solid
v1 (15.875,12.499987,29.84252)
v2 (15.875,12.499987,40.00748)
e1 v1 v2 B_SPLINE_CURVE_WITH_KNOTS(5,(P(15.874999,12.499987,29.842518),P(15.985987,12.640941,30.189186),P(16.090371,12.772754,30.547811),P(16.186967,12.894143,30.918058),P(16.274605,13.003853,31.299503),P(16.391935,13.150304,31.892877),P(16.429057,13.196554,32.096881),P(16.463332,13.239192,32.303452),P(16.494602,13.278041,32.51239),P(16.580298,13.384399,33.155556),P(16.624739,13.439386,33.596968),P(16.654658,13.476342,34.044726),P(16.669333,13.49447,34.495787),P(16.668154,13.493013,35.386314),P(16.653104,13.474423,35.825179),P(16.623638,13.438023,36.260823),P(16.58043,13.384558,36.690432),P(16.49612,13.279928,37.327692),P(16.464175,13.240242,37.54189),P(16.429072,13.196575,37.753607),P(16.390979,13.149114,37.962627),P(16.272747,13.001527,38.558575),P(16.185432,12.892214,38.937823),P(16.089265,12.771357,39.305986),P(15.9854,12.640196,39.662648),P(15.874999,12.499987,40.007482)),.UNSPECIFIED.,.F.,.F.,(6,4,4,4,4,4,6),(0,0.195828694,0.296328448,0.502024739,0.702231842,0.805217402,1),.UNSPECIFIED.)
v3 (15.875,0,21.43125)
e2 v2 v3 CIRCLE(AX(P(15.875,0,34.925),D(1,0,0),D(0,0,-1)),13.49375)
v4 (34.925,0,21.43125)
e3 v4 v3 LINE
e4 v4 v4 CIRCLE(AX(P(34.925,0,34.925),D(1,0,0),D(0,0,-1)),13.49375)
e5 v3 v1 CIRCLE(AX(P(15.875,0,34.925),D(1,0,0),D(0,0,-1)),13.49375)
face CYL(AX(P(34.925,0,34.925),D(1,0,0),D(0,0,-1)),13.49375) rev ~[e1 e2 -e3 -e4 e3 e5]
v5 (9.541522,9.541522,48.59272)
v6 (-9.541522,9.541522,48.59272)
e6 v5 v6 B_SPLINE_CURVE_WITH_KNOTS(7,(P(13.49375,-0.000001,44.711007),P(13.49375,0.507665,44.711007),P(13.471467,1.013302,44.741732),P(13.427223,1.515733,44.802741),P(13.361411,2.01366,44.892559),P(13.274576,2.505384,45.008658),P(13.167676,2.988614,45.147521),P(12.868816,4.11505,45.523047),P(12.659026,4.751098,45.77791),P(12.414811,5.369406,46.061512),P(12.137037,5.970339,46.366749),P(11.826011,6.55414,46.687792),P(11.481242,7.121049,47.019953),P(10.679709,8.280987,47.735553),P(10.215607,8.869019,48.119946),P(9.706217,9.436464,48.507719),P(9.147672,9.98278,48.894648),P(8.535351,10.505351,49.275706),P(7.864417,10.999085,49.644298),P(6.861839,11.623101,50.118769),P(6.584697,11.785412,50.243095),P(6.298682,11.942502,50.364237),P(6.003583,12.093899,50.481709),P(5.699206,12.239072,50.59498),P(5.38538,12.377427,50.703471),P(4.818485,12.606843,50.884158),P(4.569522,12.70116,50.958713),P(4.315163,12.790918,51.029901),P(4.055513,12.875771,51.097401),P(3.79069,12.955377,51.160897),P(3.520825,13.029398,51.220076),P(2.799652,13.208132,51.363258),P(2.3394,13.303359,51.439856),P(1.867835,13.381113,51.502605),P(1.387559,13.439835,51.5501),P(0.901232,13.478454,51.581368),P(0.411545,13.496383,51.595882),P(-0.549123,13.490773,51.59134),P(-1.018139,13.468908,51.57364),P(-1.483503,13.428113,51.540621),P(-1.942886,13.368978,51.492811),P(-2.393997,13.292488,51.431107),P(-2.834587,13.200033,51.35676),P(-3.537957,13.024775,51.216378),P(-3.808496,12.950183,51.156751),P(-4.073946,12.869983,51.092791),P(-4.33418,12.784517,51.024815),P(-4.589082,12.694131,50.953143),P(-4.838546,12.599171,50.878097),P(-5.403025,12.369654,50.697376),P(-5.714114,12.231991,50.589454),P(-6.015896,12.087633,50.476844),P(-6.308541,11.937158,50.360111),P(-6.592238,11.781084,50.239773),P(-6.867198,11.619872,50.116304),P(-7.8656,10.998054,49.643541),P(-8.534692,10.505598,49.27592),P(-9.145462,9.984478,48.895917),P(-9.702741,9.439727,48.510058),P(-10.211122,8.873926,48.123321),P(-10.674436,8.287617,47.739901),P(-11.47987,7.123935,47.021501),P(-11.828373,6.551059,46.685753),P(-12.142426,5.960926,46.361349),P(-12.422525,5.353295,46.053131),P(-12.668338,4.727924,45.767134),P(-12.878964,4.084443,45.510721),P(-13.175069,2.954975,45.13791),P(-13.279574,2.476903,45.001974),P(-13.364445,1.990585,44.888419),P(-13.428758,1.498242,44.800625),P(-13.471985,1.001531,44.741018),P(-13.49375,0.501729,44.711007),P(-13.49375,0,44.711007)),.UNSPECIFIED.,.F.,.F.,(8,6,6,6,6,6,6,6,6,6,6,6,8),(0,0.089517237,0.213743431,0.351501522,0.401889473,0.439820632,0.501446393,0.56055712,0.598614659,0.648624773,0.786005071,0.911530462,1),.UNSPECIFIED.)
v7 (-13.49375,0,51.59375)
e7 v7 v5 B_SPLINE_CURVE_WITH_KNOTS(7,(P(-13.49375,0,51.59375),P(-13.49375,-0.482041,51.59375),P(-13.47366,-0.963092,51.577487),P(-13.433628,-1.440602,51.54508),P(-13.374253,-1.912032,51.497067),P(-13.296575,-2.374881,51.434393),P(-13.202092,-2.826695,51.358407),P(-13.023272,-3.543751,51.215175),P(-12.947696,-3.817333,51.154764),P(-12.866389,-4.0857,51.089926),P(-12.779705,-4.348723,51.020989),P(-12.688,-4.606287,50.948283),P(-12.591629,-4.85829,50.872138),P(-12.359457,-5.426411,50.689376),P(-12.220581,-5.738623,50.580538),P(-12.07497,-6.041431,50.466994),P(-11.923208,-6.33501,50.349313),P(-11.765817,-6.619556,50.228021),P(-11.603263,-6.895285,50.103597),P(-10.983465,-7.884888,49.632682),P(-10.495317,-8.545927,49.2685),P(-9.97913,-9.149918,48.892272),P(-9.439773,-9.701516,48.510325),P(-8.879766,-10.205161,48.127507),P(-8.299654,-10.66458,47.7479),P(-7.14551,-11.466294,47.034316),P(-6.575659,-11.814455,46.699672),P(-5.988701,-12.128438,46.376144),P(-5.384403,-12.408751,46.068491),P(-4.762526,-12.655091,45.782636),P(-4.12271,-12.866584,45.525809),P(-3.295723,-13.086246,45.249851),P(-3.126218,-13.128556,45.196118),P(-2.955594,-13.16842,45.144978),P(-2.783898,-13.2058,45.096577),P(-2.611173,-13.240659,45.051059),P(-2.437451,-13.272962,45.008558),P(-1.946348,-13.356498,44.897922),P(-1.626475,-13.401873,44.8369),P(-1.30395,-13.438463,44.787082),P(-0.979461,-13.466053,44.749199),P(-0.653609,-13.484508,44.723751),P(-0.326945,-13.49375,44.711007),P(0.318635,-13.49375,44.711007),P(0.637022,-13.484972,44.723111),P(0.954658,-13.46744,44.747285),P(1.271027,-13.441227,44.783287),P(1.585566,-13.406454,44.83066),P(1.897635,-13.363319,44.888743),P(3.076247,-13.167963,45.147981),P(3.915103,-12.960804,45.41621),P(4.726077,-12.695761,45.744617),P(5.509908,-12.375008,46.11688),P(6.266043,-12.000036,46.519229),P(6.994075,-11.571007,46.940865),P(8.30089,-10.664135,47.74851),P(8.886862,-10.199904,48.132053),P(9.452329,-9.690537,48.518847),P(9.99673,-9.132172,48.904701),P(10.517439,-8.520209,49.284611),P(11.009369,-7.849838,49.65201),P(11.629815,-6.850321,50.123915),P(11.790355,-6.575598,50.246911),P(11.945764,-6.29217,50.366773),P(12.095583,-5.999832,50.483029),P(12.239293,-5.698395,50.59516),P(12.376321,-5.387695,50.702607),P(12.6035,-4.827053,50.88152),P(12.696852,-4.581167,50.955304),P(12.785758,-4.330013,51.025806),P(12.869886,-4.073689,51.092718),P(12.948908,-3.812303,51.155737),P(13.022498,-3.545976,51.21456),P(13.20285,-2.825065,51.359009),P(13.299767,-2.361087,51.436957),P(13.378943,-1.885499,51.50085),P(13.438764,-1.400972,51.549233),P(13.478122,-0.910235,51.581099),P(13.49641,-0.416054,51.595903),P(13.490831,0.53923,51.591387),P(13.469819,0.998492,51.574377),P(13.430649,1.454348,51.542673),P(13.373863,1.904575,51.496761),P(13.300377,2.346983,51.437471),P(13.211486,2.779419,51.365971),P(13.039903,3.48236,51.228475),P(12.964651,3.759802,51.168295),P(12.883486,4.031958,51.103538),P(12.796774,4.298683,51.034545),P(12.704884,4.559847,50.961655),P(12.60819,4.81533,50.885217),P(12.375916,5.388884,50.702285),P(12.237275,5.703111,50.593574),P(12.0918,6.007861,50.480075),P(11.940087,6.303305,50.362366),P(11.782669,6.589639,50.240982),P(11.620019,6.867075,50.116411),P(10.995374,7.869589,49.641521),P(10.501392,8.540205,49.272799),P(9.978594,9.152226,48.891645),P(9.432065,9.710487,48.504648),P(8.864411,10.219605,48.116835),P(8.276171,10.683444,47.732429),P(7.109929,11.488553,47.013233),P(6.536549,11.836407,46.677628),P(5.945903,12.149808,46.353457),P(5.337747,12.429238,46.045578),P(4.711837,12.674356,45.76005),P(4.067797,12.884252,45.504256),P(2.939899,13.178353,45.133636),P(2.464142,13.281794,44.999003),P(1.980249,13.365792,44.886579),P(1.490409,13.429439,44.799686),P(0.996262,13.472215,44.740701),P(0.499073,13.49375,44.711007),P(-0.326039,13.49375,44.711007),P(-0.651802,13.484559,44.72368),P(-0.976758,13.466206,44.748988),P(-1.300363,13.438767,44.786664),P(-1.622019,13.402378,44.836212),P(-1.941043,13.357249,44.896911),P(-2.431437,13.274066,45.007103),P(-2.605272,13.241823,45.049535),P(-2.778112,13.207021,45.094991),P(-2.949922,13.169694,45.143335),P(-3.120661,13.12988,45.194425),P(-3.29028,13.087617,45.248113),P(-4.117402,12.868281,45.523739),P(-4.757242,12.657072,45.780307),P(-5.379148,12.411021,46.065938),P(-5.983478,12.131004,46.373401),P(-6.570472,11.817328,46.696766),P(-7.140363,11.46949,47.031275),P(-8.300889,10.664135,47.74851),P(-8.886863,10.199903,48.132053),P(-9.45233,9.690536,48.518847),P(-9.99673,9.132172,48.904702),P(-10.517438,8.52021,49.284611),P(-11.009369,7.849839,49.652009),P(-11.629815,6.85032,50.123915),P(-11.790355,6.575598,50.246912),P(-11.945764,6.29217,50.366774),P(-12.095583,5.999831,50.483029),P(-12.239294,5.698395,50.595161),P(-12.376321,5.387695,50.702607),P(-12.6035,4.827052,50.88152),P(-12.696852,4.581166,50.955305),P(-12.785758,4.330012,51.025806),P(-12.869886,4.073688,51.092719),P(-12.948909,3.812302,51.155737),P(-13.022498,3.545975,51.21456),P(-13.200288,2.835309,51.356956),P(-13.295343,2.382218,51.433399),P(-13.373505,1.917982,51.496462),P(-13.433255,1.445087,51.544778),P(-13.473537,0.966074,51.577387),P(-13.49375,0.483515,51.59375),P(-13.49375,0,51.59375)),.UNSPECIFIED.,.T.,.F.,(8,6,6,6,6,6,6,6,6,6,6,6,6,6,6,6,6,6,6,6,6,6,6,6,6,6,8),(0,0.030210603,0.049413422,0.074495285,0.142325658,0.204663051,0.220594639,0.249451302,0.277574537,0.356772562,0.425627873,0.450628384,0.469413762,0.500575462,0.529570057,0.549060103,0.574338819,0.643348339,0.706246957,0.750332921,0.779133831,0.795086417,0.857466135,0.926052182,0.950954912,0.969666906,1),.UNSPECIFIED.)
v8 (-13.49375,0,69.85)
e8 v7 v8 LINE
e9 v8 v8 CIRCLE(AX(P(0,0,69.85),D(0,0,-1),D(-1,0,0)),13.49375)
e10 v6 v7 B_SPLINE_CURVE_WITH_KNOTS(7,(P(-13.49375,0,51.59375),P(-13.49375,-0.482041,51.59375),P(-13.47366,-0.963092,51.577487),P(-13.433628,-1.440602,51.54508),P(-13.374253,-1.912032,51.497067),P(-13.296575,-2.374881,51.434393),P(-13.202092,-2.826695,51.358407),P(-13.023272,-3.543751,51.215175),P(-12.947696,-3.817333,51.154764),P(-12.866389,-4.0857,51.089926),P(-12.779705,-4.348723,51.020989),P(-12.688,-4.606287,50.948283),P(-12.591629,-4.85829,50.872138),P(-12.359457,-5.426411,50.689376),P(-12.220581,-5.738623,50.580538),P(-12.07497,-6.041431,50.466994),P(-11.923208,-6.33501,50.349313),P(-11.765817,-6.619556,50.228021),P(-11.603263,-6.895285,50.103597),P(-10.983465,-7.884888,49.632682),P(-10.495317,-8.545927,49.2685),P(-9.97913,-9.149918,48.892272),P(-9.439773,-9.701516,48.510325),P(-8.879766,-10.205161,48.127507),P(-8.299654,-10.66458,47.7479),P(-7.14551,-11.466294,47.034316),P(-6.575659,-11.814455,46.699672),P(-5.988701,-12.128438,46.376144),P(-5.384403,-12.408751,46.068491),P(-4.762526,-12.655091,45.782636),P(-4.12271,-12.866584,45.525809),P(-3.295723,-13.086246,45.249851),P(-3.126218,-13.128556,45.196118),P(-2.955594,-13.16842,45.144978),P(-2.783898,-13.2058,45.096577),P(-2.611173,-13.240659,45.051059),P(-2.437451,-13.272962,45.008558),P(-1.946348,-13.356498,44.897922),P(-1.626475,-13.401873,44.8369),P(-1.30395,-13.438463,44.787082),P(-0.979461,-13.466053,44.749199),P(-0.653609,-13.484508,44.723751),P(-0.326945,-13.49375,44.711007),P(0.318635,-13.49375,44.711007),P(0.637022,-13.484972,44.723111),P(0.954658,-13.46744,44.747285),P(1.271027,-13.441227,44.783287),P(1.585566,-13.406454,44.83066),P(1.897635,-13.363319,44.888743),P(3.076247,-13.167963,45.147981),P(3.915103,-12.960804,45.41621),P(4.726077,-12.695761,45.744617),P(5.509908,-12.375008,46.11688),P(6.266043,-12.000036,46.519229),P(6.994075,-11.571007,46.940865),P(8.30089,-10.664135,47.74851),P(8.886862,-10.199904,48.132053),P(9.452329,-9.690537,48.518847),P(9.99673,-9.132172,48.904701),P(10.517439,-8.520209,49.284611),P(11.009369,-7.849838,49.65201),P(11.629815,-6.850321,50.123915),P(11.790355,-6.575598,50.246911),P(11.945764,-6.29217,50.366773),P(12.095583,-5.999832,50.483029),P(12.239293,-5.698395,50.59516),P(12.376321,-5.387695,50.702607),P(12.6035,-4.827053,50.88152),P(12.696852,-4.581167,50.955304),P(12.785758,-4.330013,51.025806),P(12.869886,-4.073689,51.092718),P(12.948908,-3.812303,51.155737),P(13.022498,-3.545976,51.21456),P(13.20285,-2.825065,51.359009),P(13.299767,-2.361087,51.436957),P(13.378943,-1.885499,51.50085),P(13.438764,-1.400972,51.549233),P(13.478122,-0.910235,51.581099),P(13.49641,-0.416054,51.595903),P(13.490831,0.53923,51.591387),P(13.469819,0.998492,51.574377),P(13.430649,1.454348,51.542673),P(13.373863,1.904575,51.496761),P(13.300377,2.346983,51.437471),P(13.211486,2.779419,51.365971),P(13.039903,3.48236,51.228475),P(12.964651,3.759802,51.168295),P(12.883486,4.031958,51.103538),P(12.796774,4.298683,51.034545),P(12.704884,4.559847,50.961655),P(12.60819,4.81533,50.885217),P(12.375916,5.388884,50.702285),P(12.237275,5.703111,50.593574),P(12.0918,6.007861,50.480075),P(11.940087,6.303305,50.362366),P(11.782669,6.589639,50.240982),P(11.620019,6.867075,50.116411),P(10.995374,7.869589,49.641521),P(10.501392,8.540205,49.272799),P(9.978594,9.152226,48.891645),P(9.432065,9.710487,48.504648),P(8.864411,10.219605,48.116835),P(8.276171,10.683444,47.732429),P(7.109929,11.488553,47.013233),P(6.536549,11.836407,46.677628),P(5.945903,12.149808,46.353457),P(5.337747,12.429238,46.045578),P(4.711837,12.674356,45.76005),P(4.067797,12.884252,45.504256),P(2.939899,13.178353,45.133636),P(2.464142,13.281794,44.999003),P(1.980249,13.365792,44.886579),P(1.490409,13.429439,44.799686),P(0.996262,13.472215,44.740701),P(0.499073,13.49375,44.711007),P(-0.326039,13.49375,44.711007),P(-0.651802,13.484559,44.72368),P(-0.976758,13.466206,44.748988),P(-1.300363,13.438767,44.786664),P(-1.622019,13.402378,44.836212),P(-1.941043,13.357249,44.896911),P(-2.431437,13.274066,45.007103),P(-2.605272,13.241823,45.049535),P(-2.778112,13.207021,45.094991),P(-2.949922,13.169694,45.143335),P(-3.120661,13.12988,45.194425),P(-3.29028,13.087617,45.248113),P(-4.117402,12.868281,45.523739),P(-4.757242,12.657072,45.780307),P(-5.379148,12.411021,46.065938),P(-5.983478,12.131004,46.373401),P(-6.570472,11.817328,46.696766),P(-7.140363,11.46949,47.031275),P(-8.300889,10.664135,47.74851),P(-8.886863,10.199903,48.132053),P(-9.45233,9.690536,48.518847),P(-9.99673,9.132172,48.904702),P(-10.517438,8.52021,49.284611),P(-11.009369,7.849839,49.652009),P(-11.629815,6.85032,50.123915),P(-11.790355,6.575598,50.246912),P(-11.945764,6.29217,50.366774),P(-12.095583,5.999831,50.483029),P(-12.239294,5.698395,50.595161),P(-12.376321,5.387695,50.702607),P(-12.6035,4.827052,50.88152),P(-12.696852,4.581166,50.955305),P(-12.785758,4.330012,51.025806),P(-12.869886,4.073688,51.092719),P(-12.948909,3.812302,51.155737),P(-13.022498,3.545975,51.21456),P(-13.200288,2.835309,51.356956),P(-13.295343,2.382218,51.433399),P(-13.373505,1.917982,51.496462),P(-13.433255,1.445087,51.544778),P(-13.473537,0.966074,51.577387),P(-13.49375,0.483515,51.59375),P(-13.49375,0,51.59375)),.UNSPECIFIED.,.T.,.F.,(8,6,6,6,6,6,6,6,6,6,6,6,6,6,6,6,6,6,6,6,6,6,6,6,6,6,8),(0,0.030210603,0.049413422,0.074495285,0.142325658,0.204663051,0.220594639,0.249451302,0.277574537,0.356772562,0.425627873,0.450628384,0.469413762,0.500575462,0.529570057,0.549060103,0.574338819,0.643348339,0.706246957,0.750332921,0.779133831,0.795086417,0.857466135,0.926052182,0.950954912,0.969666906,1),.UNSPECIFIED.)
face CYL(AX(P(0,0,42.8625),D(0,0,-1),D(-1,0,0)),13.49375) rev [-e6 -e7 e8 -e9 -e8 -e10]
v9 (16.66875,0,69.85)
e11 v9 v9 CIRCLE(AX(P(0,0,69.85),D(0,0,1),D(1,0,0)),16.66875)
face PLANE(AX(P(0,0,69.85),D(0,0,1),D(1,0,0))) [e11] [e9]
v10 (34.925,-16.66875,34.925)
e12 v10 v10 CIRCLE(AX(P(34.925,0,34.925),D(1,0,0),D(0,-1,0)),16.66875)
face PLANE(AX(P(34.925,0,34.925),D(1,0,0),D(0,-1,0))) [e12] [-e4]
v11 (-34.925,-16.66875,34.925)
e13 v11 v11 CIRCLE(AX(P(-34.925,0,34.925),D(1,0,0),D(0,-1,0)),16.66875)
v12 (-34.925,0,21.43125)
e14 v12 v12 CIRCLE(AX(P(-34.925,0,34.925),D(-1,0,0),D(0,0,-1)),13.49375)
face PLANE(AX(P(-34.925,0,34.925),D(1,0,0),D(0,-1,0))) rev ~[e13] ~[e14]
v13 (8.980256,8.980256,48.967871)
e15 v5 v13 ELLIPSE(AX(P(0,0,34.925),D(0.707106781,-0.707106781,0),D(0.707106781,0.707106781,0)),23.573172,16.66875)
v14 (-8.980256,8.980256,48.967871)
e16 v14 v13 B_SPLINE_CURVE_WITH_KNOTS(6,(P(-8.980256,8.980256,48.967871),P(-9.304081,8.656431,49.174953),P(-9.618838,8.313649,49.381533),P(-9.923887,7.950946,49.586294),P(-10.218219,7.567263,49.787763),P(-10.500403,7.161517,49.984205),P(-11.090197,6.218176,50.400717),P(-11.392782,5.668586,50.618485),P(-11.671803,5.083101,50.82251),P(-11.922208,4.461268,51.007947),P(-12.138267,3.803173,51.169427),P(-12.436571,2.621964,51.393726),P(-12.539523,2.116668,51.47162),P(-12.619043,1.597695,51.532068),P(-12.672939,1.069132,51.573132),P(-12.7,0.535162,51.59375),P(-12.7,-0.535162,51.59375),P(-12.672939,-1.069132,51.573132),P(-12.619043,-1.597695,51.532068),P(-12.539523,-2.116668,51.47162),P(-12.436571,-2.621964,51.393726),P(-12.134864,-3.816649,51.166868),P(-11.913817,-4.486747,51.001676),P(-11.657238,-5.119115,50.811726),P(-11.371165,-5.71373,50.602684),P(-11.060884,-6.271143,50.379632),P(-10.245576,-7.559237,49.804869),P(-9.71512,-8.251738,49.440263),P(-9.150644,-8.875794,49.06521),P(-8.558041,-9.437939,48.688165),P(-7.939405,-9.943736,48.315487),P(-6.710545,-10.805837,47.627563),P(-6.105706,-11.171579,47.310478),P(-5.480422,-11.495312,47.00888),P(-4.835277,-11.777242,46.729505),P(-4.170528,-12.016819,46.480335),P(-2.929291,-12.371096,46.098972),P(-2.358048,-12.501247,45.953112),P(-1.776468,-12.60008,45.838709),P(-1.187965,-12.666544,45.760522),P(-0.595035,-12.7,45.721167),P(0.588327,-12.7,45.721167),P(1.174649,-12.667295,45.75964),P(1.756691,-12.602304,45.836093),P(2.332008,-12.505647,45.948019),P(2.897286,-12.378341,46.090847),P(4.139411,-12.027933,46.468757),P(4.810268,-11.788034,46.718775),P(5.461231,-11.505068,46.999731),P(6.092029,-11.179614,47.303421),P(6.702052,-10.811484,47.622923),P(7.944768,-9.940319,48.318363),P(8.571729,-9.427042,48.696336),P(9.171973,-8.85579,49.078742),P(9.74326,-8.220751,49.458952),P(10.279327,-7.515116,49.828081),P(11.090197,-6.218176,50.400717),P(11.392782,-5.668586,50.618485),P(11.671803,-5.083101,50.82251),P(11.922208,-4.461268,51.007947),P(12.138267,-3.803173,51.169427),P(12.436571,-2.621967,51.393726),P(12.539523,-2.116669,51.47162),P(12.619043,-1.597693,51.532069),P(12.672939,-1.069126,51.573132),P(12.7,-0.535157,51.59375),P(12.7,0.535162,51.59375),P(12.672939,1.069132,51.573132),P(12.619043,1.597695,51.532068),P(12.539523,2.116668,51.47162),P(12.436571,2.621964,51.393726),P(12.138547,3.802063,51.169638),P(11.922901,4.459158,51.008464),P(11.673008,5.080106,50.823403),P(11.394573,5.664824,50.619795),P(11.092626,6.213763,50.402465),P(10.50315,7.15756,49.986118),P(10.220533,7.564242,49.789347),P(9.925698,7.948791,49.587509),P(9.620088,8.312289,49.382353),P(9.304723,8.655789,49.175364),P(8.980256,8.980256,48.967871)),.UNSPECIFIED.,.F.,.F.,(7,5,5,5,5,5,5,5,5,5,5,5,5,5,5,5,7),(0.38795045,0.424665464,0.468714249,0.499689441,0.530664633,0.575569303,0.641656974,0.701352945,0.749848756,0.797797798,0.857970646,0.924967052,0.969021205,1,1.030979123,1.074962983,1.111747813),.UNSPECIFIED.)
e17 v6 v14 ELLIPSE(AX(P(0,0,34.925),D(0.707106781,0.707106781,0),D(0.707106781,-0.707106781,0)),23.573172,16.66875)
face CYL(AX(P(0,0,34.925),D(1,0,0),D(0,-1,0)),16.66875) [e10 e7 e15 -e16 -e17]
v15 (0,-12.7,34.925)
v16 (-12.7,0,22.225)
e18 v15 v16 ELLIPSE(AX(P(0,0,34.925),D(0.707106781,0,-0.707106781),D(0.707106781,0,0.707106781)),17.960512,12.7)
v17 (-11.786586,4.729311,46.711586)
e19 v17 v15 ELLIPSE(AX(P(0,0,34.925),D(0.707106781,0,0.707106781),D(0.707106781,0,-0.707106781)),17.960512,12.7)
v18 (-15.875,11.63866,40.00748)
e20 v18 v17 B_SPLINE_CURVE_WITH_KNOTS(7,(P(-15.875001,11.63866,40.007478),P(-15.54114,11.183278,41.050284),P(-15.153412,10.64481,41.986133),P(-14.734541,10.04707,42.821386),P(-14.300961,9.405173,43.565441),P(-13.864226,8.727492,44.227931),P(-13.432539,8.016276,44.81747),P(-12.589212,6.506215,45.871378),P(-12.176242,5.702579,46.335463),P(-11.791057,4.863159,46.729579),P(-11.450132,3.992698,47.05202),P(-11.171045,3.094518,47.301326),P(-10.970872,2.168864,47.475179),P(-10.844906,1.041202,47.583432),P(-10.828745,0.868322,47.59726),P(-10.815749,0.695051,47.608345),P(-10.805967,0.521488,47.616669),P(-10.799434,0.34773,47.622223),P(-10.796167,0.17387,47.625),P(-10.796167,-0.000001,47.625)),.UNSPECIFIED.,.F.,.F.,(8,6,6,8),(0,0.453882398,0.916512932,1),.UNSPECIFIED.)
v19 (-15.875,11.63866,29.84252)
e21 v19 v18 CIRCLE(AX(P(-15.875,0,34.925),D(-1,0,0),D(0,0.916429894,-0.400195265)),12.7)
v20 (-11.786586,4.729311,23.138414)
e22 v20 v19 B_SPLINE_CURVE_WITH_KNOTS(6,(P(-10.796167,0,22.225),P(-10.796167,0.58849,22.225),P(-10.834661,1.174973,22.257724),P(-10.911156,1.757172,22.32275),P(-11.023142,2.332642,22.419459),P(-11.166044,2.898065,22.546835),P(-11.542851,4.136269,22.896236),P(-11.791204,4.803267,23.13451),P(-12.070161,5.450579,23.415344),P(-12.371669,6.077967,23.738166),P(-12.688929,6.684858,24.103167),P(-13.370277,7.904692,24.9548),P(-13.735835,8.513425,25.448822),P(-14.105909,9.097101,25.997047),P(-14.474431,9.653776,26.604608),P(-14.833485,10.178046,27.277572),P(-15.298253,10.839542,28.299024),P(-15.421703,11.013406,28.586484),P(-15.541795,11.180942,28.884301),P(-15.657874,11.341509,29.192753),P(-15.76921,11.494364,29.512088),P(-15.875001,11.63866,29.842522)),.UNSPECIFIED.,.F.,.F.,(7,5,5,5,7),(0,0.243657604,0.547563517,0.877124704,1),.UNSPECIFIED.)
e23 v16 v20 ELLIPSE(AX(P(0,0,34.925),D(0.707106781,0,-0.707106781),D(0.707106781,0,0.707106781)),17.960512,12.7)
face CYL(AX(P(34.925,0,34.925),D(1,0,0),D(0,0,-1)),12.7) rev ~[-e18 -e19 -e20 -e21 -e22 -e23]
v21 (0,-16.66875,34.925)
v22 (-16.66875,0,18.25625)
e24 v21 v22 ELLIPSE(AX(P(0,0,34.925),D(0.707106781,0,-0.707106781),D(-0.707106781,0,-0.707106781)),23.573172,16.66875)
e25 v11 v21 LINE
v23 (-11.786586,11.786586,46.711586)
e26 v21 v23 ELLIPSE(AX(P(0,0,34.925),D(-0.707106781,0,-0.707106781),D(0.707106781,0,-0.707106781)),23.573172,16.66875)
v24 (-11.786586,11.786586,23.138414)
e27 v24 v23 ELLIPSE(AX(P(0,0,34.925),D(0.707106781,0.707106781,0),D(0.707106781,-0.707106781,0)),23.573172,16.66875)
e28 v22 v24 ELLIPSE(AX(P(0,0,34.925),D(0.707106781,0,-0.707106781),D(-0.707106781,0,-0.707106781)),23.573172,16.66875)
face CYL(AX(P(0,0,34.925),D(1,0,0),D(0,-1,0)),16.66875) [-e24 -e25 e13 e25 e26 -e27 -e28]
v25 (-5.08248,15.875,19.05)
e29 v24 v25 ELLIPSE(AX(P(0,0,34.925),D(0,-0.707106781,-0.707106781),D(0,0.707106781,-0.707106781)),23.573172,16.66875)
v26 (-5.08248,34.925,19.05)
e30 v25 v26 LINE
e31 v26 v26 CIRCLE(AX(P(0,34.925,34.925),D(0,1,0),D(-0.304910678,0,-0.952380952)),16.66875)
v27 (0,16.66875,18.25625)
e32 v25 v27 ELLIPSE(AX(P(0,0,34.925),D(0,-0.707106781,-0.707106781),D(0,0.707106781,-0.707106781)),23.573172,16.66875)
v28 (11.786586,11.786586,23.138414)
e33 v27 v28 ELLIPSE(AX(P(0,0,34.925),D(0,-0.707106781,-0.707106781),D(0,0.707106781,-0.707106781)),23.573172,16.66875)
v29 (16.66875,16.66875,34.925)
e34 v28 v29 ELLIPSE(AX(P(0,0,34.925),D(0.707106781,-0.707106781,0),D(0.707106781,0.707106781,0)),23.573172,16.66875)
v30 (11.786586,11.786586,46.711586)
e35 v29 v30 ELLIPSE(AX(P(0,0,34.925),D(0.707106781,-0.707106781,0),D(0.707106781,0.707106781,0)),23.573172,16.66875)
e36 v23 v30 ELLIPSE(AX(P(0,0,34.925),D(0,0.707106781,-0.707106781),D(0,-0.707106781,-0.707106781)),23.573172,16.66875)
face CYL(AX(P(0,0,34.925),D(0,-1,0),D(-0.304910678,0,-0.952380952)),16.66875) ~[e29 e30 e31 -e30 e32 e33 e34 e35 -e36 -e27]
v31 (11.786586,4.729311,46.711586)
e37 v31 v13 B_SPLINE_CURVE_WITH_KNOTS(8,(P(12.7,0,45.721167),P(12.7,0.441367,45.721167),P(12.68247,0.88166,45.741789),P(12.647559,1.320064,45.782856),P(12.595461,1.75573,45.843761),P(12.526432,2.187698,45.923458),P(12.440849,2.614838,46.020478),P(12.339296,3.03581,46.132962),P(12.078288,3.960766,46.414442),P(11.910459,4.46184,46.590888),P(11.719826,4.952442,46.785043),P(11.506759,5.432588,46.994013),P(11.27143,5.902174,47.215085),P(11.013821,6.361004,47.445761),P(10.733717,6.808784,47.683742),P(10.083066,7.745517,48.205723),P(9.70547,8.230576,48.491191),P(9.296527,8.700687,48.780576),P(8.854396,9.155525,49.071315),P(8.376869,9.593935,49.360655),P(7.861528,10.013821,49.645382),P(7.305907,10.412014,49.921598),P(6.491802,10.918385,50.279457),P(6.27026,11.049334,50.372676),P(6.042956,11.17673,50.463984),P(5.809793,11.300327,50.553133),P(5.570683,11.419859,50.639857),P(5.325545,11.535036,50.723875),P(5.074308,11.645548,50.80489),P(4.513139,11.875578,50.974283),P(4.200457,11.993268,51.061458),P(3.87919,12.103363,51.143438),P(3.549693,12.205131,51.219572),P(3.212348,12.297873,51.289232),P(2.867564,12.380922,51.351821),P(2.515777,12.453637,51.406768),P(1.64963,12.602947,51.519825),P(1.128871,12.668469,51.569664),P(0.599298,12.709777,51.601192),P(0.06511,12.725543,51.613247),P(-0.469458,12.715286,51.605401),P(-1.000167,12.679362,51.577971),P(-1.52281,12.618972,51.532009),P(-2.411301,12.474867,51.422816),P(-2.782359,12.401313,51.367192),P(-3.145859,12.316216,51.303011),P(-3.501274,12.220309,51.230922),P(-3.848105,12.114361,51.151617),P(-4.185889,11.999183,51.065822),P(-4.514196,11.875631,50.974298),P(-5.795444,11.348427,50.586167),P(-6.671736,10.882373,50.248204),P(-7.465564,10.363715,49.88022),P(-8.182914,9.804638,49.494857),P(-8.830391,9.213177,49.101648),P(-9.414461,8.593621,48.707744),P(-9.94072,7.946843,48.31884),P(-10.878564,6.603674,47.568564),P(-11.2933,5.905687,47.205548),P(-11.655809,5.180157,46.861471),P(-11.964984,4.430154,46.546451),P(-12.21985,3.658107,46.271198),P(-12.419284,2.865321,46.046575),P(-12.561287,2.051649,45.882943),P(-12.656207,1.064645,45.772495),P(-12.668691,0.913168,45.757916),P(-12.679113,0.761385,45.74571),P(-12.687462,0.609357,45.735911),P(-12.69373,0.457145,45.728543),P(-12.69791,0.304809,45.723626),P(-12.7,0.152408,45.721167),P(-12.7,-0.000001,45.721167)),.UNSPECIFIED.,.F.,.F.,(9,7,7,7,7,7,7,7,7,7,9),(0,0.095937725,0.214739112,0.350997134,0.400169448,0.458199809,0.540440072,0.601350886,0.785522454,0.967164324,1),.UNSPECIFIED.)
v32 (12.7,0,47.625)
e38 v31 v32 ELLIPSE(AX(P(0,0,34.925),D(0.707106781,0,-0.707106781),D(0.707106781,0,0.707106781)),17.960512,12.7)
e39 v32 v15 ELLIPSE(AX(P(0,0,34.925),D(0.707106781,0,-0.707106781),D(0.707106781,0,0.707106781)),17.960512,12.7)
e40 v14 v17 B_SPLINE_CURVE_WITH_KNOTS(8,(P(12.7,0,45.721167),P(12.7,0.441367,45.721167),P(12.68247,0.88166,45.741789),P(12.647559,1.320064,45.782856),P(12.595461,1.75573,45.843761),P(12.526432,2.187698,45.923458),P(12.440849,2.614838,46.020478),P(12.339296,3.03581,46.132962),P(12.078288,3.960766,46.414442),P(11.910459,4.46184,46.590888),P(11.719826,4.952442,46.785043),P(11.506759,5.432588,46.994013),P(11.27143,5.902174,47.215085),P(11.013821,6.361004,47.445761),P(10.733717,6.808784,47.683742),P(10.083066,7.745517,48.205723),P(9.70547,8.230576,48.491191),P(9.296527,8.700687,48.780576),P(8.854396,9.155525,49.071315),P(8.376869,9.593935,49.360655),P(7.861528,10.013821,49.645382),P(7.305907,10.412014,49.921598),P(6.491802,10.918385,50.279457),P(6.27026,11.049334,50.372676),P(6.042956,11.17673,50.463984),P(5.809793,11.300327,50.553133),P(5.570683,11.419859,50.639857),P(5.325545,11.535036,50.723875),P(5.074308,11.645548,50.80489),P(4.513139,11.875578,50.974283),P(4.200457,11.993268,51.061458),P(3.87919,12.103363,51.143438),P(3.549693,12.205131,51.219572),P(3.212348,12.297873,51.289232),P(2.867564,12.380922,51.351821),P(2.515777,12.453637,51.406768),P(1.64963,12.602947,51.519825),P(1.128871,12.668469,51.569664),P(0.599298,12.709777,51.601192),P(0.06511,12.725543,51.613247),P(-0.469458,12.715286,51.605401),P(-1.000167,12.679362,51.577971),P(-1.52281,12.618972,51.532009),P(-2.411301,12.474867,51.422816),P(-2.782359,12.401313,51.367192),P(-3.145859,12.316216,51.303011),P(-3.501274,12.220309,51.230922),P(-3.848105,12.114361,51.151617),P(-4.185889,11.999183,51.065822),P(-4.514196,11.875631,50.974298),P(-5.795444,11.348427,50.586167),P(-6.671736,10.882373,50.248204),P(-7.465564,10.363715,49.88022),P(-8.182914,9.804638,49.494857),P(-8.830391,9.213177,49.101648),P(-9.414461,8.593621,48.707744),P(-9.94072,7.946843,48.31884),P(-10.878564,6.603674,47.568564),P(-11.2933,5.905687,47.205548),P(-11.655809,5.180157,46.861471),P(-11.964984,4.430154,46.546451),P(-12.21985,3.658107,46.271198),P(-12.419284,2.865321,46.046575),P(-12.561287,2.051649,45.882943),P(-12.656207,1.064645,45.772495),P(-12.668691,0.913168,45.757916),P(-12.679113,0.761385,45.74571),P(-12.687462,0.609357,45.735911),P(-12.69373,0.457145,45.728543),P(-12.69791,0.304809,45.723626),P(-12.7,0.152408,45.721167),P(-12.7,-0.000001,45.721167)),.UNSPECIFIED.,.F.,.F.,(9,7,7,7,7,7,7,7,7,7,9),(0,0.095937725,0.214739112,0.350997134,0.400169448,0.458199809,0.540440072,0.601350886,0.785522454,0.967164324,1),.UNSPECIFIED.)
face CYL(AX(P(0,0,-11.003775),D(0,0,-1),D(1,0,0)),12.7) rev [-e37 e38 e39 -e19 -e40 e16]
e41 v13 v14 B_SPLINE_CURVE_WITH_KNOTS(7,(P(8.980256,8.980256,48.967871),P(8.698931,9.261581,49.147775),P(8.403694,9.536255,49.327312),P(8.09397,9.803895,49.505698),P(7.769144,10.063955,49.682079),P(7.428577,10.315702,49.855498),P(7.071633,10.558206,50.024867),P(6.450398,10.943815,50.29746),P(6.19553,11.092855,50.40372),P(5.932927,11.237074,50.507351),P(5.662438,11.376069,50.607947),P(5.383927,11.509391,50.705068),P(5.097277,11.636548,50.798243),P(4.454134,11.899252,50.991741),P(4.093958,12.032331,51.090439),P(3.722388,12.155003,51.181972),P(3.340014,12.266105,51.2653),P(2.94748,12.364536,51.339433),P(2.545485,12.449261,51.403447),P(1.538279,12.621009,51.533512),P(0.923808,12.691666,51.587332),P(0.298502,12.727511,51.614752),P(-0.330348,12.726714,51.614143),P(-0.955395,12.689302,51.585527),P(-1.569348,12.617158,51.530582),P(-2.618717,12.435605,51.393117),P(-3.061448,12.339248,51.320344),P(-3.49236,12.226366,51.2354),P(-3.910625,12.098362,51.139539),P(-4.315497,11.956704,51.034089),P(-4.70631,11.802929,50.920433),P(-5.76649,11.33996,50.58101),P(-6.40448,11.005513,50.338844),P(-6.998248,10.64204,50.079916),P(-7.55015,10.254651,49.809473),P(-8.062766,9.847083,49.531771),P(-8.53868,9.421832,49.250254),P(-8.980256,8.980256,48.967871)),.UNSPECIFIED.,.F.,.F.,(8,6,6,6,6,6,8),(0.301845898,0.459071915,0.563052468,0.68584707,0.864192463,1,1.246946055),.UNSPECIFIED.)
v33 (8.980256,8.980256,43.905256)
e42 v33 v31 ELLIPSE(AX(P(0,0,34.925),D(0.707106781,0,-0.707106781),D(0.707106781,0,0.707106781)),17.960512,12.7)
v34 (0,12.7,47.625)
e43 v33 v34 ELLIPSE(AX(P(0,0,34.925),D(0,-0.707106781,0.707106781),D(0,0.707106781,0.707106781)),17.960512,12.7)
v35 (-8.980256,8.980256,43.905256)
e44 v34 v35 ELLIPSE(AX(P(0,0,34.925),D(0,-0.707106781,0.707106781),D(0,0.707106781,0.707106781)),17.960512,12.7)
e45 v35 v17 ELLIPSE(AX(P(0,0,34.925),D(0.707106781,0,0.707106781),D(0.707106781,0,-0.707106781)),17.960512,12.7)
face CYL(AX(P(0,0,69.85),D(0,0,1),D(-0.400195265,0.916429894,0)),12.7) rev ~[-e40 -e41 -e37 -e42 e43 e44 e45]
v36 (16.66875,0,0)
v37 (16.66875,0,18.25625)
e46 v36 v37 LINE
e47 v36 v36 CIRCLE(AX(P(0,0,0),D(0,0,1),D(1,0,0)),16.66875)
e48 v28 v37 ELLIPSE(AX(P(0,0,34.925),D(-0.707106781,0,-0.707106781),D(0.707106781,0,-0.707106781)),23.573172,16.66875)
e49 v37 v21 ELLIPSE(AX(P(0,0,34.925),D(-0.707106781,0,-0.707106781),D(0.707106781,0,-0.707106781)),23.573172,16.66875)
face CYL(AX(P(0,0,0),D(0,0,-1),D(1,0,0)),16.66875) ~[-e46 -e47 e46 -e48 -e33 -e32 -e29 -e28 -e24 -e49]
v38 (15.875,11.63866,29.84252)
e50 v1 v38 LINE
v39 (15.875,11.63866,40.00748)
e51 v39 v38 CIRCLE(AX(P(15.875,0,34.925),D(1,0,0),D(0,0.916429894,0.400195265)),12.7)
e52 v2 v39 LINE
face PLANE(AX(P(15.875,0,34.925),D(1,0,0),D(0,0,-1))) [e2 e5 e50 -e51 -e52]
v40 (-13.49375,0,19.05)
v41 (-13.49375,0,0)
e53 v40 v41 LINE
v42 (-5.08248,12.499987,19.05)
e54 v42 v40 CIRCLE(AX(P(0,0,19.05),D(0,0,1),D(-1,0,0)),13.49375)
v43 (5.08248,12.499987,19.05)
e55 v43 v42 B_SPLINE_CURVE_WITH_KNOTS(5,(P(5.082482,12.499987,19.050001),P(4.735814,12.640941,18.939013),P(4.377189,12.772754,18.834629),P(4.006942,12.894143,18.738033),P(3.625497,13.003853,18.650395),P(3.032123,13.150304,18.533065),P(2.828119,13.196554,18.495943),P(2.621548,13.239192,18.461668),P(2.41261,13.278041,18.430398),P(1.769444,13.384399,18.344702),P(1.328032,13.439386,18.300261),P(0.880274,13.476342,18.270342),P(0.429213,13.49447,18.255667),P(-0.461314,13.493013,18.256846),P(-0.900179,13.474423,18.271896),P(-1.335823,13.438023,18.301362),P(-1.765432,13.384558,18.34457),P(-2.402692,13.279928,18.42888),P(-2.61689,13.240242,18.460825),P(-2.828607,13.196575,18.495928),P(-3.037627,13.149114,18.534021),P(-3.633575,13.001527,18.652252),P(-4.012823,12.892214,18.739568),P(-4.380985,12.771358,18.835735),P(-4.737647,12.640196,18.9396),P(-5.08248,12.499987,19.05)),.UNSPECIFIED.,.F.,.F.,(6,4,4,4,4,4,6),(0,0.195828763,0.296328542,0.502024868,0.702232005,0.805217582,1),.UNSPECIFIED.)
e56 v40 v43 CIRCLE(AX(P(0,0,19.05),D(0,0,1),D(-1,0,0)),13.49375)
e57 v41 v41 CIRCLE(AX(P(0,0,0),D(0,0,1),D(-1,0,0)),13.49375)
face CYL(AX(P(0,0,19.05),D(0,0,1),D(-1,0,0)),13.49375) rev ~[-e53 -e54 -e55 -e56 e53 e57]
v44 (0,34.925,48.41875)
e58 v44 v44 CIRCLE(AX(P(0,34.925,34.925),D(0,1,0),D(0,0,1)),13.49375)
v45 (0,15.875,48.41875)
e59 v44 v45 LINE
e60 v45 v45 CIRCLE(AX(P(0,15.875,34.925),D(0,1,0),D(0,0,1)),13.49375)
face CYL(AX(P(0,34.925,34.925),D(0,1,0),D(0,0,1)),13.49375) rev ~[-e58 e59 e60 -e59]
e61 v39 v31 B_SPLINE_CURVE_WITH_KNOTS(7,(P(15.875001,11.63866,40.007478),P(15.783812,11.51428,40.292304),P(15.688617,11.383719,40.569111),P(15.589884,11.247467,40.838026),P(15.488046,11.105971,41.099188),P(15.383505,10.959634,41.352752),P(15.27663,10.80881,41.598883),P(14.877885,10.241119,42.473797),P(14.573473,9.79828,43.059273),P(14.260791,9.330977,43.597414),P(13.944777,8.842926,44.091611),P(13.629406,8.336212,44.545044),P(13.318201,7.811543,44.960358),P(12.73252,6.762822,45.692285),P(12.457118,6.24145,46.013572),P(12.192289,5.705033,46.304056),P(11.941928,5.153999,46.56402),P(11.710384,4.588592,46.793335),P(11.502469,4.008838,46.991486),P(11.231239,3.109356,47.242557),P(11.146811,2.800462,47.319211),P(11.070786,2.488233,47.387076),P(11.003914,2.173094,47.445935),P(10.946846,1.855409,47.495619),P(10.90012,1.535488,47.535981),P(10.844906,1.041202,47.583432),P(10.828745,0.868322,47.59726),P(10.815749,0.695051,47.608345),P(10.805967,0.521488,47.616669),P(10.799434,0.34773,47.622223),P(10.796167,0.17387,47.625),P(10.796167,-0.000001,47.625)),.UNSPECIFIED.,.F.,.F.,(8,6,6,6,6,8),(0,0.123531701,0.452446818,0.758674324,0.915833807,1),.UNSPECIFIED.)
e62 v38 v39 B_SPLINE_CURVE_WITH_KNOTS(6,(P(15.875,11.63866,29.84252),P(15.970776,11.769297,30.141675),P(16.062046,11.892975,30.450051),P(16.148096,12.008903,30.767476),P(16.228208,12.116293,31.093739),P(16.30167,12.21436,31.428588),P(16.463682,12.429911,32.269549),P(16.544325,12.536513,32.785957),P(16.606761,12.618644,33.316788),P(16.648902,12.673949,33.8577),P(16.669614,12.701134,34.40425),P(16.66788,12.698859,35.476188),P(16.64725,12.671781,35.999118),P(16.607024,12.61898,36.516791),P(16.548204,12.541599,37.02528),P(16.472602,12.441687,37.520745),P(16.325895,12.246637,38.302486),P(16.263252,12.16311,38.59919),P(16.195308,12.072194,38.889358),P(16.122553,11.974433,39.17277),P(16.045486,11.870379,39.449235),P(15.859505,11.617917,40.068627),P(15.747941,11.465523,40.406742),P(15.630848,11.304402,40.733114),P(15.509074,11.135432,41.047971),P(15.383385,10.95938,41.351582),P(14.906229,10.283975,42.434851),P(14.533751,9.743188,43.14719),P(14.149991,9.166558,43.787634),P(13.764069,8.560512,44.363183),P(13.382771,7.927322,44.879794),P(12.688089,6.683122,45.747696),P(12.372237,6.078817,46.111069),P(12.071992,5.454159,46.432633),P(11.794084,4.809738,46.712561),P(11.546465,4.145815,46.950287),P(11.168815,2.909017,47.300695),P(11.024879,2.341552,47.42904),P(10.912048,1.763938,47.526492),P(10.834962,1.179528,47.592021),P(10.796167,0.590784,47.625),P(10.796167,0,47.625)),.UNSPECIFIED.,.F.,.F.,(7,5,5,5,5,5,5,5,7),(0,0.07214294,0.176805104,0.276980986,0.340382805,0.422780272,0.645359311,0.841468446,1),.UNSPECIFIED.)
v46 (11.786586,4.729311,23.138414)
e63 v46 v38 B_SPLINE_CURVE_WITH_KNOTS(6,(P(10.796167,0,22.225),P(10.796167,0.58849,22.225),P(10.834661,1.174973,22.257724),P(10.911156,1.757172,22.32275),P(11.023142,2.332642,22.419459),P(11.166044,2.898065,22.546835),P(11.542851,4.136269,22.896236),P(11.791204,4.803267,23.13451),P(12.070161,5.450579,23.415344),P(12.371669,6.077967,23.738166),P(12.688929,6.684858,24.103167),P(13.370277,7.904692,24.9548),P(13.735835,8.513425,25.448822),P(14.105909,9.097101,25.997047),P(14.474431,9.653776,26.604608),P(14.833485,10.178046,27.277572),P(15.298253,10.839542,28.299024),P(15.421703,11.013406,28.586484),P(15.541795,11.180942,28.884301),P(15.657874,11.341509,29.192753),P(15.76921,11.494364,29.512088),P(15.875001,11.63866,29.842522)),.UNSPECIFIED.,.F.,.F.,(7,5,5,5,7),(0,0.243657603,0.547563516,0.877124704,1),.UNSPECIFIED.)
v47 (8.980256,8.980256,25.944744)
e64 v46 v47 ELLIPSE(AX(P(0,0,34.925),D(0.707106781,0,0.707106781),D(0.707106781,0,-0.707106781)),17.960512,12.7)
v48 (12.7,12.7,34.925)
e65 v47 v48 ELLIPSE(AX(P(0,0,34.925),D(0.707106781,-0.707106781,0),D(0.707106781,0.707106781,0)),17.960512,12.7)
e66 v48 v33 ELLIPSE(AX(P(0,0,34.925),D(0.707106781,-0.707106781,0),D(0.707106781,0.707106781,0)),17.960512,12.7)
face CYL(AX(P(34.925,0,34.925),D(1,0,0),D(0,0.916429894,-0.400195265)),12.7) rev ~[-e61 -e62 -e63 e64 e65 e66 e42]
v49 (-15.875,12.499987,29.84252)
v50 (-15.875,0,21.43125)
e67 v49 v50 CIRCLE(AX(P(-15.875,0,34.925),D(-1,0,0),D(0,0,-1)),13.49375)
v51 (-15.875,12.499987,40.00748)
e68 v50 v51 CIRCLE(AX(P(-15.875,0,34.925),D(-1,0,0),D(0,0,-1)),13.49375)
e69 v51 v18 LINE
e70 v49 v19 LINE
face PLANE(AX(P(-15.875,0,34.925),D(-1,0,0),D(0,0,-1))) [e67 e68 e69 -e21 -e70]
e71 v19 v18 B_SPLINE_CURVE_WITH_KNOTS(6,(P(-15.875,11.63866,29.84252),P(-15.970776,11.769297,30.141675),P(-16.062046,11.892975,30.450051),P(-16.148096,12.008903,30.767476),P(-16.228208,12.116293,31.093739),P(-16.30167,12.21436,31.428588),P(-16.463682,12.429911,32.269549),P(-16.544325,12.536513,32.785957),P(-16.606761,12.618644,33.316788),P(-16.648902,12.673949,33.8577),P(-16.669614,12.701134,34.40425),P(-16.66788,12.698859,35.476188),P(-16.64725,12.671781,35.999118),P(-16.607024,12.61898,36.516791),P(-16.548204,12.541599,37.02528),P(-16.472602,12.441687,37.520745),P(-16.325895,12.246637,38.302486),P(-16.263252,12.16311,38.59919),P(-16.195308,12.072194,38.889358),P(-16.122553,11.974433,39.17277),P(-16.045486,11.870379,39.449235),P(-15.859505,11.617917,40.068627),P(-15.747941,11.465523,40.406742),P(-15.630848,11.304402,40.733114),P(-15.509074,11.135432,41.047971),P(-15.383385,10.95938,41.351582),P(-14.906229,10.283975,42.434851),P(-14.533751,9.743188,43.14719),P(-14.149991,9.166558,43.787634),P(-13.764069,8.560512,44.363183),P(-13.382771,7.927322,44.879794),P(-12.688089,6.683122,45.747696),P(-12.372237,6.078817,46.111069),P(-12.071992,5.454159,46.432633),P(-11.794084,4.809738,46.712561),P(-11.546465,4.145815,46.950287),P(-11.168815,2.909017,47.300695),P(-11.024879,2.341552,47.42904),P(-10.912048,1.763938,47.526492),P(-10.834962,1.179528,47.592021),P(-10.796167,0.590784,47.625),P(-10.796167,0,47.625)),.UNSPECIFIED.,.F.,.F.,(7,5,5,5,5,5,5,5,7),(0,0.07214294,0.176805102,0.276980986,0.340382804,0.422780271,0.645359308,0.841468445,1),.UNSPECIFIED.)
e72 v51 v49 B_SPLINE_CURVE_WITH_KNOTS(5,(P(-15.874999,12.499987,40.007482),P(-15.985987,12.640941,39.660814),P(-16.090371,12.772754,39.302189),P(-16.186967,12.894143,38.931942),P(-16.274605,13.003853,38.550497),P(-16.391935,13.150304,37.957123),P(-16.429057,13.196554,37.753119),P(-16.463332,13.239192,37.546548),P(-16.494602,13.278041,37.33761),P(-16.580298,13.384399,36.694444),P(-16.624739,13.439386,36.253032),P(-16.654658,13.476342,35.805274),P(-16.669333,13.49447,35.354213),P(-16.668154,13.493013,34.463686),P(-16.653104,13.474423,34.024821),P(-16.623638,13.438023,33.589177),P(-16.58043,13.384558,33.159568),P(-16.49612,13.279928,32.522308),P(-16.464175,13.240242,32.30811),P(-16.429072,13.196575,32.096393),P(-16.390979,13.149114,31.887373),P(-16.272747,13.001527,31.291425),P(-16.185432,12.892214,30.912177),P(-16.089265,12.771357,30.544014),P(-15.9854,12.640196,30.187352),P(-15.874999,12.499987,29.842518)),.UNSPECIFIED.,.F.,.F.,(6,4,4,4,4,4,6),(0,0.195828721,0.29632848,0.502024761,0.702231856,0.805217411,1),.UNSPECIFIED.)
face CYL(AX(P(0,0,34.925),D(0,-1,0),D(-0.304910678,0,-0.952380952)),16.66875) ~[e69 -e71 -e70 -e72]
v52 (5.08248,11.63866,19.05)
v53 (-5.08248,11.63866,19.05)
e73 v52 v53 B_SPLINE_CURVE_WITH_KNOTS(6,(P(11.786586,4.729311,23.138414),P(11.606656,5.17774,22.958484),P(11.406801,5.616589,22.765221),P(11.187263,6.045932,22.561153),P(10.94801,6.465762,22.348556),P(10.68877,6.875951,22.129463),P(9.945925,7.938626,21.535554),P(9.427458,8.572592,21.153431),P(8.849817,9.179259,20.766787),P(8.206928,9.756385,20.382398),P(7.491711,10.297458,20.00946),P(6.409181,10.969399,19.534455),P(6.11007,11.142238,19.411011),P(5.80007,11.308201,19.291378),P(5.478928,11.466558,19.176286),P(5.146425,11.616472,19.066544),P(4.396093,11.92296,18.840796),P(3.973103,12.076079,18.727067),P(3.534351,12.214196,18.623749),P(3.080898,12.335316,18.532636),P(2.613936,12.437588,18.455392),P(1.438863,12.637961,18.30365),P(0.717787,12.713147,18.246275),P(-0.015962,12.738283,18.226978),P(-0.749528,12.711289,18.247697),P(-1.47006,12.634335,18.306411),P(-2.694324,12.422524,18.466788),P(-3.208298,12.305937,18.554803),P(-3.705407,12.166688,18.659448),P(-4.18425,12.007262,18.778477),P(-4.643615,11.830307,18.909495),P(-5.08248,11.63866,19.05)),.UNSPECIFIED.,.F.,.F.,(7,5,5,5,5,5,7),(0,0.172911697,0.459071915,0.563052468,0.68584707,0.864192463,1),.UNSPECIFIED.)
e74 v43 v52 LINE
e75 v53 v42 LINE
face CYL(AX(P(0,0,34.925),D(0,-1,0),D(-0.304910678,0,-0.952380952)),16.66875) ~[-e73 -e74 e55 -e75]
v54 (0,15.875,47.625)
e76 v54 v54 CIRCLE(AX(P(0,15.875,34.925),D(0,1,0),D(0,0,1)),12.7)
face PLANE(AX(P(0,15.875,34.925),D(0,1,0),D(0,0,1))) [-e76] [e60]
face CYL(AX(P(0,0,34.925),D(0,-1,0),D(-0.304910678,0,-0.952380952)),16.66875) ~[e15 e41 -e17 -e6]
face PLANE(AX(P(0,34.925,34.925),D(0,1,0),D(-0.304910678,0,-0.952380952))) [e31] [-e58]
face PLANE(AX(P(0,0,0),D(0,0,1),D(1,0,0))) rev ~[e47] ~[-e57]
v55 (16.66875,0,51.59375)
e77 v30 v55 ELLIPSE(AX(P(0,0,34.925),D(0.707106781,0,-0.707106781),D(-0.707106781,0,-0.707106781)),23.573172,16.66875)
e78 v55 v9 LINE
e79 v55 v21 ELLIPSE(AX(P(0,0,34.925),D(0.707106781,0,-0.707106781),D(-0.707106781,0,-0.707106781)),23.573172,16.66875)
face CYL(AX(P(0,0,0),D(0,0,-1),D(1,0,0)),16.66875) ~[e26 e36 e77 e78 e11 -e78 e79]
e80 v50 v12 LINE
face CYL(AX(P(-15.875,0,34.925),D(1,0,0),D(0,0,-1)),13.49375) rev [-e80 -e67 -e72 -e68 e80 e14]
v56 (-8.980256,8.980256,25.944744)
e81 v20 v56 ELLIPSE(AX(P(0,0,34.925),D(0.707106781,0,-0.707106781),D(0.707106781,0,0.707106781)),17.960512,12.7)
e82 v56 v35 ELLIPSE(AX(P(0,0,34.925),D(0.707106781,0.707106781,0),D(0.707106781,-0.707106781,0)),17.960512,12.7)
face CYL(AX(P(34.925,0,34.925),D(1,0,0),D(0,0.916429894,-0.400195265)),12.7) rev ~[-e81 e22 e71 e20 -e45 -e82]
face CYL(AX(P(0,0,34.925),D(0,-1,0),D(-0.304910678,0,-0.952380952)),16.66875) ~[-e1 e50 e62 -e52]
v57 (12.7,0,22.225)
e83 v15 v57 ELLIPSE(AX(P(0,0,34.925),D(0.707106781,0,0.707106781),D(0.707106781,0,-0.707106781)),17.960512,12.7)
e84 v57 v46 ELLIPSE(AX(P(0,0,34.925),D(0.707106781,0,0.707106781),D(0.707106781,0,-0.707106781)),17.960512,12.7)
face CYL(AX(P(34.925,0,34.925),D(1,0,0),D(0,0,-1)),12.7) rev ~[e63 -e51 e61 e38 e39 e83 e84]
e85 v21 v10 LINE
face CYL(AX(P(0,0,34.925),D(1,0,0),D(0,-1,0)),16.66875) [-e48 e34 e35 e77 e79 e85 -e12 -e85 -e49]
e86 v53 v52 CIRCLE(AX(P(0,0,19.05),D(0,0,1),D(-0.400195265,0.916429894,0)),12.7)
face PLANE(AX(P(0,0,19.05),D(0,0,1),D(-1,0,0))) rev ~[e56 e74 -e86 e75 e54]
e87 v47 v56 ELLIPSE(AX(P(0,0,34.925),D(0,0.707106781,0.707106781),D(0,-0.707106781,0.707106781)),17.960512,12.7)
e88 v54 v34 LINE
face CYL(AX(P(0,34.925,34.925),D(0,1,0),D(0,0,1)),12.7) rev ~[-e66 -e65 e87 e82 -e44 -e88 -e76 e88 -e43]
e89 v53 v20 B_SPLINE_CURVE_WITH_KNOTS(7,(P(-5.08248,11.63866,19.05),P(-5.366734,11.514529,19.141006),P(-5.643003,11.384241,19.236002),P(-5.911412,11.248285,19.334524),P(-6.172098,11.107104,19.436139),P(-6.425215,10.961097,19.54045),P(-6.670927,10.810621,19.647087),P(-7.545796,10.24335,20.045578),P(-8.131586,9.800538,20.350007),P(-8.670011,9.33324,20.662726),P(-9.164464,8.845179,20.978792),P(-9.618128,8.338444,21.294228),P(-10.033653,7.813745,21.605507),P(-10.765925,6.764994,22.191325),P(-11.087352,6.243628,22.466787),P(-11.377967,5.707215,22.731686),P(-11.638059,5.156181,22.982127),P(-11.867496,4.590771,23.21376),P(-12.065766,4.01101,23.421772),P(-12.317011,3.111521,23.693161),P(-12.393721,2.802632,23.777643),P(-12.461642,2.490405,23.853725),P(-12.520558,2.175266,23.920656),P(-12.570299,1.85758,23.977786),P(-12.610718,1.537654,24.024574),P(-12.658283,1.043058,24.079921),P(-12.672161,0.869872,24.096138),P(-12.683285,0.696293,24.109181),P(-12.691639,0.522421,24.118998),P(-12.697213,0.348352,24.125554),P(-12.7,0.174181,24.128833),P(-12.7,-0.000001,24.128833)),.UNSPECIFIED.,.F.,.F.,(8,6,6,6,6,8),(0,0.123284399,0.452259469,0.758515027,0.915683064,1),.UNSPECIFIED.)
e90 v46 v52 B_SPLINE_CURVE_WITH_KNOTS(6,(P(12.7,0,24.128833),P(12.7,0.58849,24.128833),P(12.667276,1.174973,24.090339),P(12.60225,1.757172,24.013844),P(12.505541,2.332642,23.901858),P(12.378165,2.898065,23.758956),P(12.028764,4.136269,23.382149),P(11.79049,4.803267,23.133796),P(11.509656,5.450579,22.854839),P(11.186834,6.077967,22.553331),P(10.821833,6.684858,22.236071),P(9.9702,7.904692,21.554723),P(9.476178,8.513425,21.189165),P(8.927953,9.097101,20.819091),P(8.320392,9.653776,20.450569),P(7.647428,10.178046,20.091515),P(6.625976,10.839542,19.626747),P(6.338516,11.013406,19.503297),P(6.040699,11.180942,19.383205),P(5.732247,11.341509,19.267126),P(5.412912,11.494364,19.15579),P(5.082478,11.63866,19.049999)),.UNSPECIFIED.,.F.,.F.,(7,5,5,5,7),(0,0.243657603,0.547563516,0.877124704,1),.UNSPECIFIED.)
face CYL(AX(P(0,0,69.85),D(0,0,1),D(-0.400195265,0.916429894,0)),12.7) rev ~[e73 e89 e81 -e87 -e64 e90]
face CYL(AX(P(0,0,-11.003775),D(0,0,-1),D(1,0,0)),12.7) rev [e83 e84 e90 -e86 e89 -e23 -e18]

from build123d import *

# Parameters (mm, degrees)
SKETCH1_R               = 16.66875
BOSS_EXTRUDE1_DEPTH     = 69.85
CUT_EXTRUDE1_DEPTH      = 74.720532778
CUT_EXTRUDE1_DEPTH_BACK = 26.9875
SKETCH3_R               = 13.49375
SKETCH4_R               = 16.66875
BOSS_EXTRUDE2_DEPTH     = 34.925
SKETCH5_R               = 12.7
CUT_EXTRUDE2_DEPTH      = 101.179300459
CUT_EXTRUDE8_START      = 19.05
SKETCH11_R              = 13.49375
CUT_EXTRUDE8_DEPTH      = 19.05
CUT_EXTRUDE5_DEPTH      = 80.853774811
CUT_EXTRUDE5_DEPTH_BACK = 80.853774811
SKETCH10_R              = 12.7
SKETCH13_R              = 13.49375
CUT_EXTRUDE9_DEPTH      = 19.05
CUT_EXTRUDE10_START     = -19.05
SKETCH14_R              = 13.49375
CUT_EXTRUDE10_DEPTH     = 19.05
SKETCH15_R              = 16.66875
BOSS_EXTRUDE3_DEPTH     = 34.925
SKETCH17_R              = 13.49375
CUT_EXTRUDE12_DEPTH     = 19.05
SKETCH19_R              = 12.7
CUT_EXTRUDE14_DEPTH     = 105.775000133
SKETCH20_R              = 12.7
CUT_EXTRUDE15_DEPTH     = 86.548429389
SKETCH22_R              = 12.7
CUT_EXTRUDE16_DEPTH     = 30.48


with BuildPart() as part:
    # Sketch1 → Boss-Extrude1 (new body)
    with BuildSketch(Plane.XY):
        Circle(SKETCH1_R)
    extrude(amount=BOSS_EXTRUDE1_DEPTH)

    # Sketch3 → Cut-Extrude1 (cut, two sides: drawn at the far end of the back side and taken through both)
    with BuildSketch(Plane.XY.offset(69.85).offset(-CUT_EXTRUDE1_DEPTH_BACK)):
        with Locations(Location((0, 0, 0), (0, 0, 180))):
            Circle(SKETCH3_R)
    extrude(amount=CUT_EXTRUDE1_DEPTH + CUT_EXTRUDE1_DEPTH_BACK, mode=Mode.SUBTRACT)

    # Sketch4 → Boss-Extrude2 (add, symmetric)
    with BuildSketch(Plane(origin=(0, 0, 0), x_dir=(0, 0, -1), z_dir=(1, 0, 0))):
        with Locations(Location((-34.925, 0, 0), (0, 0, 270))):
            Circle(SKETCH4_R)
    extrude(amount=BOSS_EXTRUDE2_DEPTH, both=True)

    # Sketch5 → Cut-Extrude2 (cut, through all)
    with BuildSketch(Plane(origin=(34.925, 0, 0), x_dir=(0, 0, -1), z_dir=(1, 0, 0))):
        with Locations((-34.925, 0)):
            Circle(SKETCH5_R)
    extrude(amount=-CUT_EXTRUDE2_DEPTH, mode=Mode.SUBTRACT)

    # Sketch11 → Cut-Extrude8 (cut)
    with BuildSketch(Plane.XY.offset(CUT_EXTRUDE8_START)):
        with Locations(Location((0, 0, 0), (0, 0, 180))):
            Circle(SKETCH11_R)
    extrude(amount=-CUT_EXTRUDE8_DEPTH, mode=Mode.SUBTRACT)

    # Sketch10 → Cut-Extrude5 (cut, two sides: drawn at the far end of the back side and taken through both)
    with BuildSketch(Plane.XY.offset(69.85).offset(-CUT_EXTRUDE5_DEPTH_BACK)):
        Circle(SKETCH10_R)
    extrude(amount=CUT_EXTRUDE5_DEPTH + CUT_EXTRUDE5_DEPTH_BACK, mode=Mode.SUBTRACT)

    # Sketch13 → Cut-Extrude9 (cut)
    with BuildSketch(Plane(origin=(34.925, 0, 0), x_dir=(0, 0, -1), z_dir=(1, 0, 0))):
        with Locations((-34.925, 0)):
            Circle(SKETCH13_R)
    extrude(amount=-CUT_EXTRUDE9_DEPTH, mode=Mode.SUBTRACT)

    # Sketch14 → Cut-Extrude10 (cut)
    with BuildSketch(Plane.ZY.offset(34.925).offset(CUT_EXTRUDE10_START)):
        with Locations(Location((34.925, 0, 0), (0, 0, 180))):
            Circle(SKETCH14_R)
    extrude(amount=CUT_EXTRUDE10_DEPTH, mode=Mode.SUBTRACT)

    # Sketch15 → Boss-Extrude3 (add)
    with BuildSketch(Plane(origin=(0, 0, 0), x_dir=(1, 0, 0), z_dir=(0, 1, 0))):
        with Locations(Location((0, -34.925, 0), (0, 0, 107.752790162))):
            Circle(SKETCH15_R)
    extrude(amount=BOSS_EXTRUDE3_DEPTH)

    # Sketch17 → Cut-Extrude12 (cut)
    with BuildSketch(Plane(origin=(0, 34.925, 0), x_dir=(1, 0, 0), z_dir=(0, 1, 0))):
        with Locations(Location((0, -34.925, 0), (0, 0, 270))):
            Circle(SKETCH17_R)
    extrude(amount=-CUT_EXTRUDE12_DEPTH, mode=Mode.SUBTRACT)

    # Sketch19 → Cut-Extrude14 (cut, through all)
    with BuildSketch(Plane(origin=(34.925, 0, 0), x_dir=(0, 0, -1), z_dir=(1, 0, 0))):
        with Locations(Location((-34.925, 0, 0), (0, 0, 66.409614008))):
            Circle(SKETCH19_R)
    extrude(amount=-CUT_EXTRUDE14_DEPTH, mode=Mode.SUBTRACT)

    # Sketch20 → Cut-Extrude15 (cut, through all)
    with BuildSketch(Plane.XY.offset(69.85)):
        with Locations(Location((0, 0, 0), (0, 0, 113.590385992))):
            Circle(SKETCH20_R)
    extrude(amount=-CUT_EXTRUDE15_DEPTH, mode=Mode.SUBTRACT)

    # Sketch22 → Cut-Extrude16 (cut)
    with BuildSketch(Plane(origin=(0, 34.925, 0), x_dir=(1, 0, 0), z_dir=(0, 1, 0))):
        with Locations(Location((0, -34.925, 0), (0, 0, 270))):
            Circle(SKETCH22_R)
    extrude(amount=-CUT_EXTRUDE16_DEPTH, mode=Mode.SUBTRACT)


solid = part.part
